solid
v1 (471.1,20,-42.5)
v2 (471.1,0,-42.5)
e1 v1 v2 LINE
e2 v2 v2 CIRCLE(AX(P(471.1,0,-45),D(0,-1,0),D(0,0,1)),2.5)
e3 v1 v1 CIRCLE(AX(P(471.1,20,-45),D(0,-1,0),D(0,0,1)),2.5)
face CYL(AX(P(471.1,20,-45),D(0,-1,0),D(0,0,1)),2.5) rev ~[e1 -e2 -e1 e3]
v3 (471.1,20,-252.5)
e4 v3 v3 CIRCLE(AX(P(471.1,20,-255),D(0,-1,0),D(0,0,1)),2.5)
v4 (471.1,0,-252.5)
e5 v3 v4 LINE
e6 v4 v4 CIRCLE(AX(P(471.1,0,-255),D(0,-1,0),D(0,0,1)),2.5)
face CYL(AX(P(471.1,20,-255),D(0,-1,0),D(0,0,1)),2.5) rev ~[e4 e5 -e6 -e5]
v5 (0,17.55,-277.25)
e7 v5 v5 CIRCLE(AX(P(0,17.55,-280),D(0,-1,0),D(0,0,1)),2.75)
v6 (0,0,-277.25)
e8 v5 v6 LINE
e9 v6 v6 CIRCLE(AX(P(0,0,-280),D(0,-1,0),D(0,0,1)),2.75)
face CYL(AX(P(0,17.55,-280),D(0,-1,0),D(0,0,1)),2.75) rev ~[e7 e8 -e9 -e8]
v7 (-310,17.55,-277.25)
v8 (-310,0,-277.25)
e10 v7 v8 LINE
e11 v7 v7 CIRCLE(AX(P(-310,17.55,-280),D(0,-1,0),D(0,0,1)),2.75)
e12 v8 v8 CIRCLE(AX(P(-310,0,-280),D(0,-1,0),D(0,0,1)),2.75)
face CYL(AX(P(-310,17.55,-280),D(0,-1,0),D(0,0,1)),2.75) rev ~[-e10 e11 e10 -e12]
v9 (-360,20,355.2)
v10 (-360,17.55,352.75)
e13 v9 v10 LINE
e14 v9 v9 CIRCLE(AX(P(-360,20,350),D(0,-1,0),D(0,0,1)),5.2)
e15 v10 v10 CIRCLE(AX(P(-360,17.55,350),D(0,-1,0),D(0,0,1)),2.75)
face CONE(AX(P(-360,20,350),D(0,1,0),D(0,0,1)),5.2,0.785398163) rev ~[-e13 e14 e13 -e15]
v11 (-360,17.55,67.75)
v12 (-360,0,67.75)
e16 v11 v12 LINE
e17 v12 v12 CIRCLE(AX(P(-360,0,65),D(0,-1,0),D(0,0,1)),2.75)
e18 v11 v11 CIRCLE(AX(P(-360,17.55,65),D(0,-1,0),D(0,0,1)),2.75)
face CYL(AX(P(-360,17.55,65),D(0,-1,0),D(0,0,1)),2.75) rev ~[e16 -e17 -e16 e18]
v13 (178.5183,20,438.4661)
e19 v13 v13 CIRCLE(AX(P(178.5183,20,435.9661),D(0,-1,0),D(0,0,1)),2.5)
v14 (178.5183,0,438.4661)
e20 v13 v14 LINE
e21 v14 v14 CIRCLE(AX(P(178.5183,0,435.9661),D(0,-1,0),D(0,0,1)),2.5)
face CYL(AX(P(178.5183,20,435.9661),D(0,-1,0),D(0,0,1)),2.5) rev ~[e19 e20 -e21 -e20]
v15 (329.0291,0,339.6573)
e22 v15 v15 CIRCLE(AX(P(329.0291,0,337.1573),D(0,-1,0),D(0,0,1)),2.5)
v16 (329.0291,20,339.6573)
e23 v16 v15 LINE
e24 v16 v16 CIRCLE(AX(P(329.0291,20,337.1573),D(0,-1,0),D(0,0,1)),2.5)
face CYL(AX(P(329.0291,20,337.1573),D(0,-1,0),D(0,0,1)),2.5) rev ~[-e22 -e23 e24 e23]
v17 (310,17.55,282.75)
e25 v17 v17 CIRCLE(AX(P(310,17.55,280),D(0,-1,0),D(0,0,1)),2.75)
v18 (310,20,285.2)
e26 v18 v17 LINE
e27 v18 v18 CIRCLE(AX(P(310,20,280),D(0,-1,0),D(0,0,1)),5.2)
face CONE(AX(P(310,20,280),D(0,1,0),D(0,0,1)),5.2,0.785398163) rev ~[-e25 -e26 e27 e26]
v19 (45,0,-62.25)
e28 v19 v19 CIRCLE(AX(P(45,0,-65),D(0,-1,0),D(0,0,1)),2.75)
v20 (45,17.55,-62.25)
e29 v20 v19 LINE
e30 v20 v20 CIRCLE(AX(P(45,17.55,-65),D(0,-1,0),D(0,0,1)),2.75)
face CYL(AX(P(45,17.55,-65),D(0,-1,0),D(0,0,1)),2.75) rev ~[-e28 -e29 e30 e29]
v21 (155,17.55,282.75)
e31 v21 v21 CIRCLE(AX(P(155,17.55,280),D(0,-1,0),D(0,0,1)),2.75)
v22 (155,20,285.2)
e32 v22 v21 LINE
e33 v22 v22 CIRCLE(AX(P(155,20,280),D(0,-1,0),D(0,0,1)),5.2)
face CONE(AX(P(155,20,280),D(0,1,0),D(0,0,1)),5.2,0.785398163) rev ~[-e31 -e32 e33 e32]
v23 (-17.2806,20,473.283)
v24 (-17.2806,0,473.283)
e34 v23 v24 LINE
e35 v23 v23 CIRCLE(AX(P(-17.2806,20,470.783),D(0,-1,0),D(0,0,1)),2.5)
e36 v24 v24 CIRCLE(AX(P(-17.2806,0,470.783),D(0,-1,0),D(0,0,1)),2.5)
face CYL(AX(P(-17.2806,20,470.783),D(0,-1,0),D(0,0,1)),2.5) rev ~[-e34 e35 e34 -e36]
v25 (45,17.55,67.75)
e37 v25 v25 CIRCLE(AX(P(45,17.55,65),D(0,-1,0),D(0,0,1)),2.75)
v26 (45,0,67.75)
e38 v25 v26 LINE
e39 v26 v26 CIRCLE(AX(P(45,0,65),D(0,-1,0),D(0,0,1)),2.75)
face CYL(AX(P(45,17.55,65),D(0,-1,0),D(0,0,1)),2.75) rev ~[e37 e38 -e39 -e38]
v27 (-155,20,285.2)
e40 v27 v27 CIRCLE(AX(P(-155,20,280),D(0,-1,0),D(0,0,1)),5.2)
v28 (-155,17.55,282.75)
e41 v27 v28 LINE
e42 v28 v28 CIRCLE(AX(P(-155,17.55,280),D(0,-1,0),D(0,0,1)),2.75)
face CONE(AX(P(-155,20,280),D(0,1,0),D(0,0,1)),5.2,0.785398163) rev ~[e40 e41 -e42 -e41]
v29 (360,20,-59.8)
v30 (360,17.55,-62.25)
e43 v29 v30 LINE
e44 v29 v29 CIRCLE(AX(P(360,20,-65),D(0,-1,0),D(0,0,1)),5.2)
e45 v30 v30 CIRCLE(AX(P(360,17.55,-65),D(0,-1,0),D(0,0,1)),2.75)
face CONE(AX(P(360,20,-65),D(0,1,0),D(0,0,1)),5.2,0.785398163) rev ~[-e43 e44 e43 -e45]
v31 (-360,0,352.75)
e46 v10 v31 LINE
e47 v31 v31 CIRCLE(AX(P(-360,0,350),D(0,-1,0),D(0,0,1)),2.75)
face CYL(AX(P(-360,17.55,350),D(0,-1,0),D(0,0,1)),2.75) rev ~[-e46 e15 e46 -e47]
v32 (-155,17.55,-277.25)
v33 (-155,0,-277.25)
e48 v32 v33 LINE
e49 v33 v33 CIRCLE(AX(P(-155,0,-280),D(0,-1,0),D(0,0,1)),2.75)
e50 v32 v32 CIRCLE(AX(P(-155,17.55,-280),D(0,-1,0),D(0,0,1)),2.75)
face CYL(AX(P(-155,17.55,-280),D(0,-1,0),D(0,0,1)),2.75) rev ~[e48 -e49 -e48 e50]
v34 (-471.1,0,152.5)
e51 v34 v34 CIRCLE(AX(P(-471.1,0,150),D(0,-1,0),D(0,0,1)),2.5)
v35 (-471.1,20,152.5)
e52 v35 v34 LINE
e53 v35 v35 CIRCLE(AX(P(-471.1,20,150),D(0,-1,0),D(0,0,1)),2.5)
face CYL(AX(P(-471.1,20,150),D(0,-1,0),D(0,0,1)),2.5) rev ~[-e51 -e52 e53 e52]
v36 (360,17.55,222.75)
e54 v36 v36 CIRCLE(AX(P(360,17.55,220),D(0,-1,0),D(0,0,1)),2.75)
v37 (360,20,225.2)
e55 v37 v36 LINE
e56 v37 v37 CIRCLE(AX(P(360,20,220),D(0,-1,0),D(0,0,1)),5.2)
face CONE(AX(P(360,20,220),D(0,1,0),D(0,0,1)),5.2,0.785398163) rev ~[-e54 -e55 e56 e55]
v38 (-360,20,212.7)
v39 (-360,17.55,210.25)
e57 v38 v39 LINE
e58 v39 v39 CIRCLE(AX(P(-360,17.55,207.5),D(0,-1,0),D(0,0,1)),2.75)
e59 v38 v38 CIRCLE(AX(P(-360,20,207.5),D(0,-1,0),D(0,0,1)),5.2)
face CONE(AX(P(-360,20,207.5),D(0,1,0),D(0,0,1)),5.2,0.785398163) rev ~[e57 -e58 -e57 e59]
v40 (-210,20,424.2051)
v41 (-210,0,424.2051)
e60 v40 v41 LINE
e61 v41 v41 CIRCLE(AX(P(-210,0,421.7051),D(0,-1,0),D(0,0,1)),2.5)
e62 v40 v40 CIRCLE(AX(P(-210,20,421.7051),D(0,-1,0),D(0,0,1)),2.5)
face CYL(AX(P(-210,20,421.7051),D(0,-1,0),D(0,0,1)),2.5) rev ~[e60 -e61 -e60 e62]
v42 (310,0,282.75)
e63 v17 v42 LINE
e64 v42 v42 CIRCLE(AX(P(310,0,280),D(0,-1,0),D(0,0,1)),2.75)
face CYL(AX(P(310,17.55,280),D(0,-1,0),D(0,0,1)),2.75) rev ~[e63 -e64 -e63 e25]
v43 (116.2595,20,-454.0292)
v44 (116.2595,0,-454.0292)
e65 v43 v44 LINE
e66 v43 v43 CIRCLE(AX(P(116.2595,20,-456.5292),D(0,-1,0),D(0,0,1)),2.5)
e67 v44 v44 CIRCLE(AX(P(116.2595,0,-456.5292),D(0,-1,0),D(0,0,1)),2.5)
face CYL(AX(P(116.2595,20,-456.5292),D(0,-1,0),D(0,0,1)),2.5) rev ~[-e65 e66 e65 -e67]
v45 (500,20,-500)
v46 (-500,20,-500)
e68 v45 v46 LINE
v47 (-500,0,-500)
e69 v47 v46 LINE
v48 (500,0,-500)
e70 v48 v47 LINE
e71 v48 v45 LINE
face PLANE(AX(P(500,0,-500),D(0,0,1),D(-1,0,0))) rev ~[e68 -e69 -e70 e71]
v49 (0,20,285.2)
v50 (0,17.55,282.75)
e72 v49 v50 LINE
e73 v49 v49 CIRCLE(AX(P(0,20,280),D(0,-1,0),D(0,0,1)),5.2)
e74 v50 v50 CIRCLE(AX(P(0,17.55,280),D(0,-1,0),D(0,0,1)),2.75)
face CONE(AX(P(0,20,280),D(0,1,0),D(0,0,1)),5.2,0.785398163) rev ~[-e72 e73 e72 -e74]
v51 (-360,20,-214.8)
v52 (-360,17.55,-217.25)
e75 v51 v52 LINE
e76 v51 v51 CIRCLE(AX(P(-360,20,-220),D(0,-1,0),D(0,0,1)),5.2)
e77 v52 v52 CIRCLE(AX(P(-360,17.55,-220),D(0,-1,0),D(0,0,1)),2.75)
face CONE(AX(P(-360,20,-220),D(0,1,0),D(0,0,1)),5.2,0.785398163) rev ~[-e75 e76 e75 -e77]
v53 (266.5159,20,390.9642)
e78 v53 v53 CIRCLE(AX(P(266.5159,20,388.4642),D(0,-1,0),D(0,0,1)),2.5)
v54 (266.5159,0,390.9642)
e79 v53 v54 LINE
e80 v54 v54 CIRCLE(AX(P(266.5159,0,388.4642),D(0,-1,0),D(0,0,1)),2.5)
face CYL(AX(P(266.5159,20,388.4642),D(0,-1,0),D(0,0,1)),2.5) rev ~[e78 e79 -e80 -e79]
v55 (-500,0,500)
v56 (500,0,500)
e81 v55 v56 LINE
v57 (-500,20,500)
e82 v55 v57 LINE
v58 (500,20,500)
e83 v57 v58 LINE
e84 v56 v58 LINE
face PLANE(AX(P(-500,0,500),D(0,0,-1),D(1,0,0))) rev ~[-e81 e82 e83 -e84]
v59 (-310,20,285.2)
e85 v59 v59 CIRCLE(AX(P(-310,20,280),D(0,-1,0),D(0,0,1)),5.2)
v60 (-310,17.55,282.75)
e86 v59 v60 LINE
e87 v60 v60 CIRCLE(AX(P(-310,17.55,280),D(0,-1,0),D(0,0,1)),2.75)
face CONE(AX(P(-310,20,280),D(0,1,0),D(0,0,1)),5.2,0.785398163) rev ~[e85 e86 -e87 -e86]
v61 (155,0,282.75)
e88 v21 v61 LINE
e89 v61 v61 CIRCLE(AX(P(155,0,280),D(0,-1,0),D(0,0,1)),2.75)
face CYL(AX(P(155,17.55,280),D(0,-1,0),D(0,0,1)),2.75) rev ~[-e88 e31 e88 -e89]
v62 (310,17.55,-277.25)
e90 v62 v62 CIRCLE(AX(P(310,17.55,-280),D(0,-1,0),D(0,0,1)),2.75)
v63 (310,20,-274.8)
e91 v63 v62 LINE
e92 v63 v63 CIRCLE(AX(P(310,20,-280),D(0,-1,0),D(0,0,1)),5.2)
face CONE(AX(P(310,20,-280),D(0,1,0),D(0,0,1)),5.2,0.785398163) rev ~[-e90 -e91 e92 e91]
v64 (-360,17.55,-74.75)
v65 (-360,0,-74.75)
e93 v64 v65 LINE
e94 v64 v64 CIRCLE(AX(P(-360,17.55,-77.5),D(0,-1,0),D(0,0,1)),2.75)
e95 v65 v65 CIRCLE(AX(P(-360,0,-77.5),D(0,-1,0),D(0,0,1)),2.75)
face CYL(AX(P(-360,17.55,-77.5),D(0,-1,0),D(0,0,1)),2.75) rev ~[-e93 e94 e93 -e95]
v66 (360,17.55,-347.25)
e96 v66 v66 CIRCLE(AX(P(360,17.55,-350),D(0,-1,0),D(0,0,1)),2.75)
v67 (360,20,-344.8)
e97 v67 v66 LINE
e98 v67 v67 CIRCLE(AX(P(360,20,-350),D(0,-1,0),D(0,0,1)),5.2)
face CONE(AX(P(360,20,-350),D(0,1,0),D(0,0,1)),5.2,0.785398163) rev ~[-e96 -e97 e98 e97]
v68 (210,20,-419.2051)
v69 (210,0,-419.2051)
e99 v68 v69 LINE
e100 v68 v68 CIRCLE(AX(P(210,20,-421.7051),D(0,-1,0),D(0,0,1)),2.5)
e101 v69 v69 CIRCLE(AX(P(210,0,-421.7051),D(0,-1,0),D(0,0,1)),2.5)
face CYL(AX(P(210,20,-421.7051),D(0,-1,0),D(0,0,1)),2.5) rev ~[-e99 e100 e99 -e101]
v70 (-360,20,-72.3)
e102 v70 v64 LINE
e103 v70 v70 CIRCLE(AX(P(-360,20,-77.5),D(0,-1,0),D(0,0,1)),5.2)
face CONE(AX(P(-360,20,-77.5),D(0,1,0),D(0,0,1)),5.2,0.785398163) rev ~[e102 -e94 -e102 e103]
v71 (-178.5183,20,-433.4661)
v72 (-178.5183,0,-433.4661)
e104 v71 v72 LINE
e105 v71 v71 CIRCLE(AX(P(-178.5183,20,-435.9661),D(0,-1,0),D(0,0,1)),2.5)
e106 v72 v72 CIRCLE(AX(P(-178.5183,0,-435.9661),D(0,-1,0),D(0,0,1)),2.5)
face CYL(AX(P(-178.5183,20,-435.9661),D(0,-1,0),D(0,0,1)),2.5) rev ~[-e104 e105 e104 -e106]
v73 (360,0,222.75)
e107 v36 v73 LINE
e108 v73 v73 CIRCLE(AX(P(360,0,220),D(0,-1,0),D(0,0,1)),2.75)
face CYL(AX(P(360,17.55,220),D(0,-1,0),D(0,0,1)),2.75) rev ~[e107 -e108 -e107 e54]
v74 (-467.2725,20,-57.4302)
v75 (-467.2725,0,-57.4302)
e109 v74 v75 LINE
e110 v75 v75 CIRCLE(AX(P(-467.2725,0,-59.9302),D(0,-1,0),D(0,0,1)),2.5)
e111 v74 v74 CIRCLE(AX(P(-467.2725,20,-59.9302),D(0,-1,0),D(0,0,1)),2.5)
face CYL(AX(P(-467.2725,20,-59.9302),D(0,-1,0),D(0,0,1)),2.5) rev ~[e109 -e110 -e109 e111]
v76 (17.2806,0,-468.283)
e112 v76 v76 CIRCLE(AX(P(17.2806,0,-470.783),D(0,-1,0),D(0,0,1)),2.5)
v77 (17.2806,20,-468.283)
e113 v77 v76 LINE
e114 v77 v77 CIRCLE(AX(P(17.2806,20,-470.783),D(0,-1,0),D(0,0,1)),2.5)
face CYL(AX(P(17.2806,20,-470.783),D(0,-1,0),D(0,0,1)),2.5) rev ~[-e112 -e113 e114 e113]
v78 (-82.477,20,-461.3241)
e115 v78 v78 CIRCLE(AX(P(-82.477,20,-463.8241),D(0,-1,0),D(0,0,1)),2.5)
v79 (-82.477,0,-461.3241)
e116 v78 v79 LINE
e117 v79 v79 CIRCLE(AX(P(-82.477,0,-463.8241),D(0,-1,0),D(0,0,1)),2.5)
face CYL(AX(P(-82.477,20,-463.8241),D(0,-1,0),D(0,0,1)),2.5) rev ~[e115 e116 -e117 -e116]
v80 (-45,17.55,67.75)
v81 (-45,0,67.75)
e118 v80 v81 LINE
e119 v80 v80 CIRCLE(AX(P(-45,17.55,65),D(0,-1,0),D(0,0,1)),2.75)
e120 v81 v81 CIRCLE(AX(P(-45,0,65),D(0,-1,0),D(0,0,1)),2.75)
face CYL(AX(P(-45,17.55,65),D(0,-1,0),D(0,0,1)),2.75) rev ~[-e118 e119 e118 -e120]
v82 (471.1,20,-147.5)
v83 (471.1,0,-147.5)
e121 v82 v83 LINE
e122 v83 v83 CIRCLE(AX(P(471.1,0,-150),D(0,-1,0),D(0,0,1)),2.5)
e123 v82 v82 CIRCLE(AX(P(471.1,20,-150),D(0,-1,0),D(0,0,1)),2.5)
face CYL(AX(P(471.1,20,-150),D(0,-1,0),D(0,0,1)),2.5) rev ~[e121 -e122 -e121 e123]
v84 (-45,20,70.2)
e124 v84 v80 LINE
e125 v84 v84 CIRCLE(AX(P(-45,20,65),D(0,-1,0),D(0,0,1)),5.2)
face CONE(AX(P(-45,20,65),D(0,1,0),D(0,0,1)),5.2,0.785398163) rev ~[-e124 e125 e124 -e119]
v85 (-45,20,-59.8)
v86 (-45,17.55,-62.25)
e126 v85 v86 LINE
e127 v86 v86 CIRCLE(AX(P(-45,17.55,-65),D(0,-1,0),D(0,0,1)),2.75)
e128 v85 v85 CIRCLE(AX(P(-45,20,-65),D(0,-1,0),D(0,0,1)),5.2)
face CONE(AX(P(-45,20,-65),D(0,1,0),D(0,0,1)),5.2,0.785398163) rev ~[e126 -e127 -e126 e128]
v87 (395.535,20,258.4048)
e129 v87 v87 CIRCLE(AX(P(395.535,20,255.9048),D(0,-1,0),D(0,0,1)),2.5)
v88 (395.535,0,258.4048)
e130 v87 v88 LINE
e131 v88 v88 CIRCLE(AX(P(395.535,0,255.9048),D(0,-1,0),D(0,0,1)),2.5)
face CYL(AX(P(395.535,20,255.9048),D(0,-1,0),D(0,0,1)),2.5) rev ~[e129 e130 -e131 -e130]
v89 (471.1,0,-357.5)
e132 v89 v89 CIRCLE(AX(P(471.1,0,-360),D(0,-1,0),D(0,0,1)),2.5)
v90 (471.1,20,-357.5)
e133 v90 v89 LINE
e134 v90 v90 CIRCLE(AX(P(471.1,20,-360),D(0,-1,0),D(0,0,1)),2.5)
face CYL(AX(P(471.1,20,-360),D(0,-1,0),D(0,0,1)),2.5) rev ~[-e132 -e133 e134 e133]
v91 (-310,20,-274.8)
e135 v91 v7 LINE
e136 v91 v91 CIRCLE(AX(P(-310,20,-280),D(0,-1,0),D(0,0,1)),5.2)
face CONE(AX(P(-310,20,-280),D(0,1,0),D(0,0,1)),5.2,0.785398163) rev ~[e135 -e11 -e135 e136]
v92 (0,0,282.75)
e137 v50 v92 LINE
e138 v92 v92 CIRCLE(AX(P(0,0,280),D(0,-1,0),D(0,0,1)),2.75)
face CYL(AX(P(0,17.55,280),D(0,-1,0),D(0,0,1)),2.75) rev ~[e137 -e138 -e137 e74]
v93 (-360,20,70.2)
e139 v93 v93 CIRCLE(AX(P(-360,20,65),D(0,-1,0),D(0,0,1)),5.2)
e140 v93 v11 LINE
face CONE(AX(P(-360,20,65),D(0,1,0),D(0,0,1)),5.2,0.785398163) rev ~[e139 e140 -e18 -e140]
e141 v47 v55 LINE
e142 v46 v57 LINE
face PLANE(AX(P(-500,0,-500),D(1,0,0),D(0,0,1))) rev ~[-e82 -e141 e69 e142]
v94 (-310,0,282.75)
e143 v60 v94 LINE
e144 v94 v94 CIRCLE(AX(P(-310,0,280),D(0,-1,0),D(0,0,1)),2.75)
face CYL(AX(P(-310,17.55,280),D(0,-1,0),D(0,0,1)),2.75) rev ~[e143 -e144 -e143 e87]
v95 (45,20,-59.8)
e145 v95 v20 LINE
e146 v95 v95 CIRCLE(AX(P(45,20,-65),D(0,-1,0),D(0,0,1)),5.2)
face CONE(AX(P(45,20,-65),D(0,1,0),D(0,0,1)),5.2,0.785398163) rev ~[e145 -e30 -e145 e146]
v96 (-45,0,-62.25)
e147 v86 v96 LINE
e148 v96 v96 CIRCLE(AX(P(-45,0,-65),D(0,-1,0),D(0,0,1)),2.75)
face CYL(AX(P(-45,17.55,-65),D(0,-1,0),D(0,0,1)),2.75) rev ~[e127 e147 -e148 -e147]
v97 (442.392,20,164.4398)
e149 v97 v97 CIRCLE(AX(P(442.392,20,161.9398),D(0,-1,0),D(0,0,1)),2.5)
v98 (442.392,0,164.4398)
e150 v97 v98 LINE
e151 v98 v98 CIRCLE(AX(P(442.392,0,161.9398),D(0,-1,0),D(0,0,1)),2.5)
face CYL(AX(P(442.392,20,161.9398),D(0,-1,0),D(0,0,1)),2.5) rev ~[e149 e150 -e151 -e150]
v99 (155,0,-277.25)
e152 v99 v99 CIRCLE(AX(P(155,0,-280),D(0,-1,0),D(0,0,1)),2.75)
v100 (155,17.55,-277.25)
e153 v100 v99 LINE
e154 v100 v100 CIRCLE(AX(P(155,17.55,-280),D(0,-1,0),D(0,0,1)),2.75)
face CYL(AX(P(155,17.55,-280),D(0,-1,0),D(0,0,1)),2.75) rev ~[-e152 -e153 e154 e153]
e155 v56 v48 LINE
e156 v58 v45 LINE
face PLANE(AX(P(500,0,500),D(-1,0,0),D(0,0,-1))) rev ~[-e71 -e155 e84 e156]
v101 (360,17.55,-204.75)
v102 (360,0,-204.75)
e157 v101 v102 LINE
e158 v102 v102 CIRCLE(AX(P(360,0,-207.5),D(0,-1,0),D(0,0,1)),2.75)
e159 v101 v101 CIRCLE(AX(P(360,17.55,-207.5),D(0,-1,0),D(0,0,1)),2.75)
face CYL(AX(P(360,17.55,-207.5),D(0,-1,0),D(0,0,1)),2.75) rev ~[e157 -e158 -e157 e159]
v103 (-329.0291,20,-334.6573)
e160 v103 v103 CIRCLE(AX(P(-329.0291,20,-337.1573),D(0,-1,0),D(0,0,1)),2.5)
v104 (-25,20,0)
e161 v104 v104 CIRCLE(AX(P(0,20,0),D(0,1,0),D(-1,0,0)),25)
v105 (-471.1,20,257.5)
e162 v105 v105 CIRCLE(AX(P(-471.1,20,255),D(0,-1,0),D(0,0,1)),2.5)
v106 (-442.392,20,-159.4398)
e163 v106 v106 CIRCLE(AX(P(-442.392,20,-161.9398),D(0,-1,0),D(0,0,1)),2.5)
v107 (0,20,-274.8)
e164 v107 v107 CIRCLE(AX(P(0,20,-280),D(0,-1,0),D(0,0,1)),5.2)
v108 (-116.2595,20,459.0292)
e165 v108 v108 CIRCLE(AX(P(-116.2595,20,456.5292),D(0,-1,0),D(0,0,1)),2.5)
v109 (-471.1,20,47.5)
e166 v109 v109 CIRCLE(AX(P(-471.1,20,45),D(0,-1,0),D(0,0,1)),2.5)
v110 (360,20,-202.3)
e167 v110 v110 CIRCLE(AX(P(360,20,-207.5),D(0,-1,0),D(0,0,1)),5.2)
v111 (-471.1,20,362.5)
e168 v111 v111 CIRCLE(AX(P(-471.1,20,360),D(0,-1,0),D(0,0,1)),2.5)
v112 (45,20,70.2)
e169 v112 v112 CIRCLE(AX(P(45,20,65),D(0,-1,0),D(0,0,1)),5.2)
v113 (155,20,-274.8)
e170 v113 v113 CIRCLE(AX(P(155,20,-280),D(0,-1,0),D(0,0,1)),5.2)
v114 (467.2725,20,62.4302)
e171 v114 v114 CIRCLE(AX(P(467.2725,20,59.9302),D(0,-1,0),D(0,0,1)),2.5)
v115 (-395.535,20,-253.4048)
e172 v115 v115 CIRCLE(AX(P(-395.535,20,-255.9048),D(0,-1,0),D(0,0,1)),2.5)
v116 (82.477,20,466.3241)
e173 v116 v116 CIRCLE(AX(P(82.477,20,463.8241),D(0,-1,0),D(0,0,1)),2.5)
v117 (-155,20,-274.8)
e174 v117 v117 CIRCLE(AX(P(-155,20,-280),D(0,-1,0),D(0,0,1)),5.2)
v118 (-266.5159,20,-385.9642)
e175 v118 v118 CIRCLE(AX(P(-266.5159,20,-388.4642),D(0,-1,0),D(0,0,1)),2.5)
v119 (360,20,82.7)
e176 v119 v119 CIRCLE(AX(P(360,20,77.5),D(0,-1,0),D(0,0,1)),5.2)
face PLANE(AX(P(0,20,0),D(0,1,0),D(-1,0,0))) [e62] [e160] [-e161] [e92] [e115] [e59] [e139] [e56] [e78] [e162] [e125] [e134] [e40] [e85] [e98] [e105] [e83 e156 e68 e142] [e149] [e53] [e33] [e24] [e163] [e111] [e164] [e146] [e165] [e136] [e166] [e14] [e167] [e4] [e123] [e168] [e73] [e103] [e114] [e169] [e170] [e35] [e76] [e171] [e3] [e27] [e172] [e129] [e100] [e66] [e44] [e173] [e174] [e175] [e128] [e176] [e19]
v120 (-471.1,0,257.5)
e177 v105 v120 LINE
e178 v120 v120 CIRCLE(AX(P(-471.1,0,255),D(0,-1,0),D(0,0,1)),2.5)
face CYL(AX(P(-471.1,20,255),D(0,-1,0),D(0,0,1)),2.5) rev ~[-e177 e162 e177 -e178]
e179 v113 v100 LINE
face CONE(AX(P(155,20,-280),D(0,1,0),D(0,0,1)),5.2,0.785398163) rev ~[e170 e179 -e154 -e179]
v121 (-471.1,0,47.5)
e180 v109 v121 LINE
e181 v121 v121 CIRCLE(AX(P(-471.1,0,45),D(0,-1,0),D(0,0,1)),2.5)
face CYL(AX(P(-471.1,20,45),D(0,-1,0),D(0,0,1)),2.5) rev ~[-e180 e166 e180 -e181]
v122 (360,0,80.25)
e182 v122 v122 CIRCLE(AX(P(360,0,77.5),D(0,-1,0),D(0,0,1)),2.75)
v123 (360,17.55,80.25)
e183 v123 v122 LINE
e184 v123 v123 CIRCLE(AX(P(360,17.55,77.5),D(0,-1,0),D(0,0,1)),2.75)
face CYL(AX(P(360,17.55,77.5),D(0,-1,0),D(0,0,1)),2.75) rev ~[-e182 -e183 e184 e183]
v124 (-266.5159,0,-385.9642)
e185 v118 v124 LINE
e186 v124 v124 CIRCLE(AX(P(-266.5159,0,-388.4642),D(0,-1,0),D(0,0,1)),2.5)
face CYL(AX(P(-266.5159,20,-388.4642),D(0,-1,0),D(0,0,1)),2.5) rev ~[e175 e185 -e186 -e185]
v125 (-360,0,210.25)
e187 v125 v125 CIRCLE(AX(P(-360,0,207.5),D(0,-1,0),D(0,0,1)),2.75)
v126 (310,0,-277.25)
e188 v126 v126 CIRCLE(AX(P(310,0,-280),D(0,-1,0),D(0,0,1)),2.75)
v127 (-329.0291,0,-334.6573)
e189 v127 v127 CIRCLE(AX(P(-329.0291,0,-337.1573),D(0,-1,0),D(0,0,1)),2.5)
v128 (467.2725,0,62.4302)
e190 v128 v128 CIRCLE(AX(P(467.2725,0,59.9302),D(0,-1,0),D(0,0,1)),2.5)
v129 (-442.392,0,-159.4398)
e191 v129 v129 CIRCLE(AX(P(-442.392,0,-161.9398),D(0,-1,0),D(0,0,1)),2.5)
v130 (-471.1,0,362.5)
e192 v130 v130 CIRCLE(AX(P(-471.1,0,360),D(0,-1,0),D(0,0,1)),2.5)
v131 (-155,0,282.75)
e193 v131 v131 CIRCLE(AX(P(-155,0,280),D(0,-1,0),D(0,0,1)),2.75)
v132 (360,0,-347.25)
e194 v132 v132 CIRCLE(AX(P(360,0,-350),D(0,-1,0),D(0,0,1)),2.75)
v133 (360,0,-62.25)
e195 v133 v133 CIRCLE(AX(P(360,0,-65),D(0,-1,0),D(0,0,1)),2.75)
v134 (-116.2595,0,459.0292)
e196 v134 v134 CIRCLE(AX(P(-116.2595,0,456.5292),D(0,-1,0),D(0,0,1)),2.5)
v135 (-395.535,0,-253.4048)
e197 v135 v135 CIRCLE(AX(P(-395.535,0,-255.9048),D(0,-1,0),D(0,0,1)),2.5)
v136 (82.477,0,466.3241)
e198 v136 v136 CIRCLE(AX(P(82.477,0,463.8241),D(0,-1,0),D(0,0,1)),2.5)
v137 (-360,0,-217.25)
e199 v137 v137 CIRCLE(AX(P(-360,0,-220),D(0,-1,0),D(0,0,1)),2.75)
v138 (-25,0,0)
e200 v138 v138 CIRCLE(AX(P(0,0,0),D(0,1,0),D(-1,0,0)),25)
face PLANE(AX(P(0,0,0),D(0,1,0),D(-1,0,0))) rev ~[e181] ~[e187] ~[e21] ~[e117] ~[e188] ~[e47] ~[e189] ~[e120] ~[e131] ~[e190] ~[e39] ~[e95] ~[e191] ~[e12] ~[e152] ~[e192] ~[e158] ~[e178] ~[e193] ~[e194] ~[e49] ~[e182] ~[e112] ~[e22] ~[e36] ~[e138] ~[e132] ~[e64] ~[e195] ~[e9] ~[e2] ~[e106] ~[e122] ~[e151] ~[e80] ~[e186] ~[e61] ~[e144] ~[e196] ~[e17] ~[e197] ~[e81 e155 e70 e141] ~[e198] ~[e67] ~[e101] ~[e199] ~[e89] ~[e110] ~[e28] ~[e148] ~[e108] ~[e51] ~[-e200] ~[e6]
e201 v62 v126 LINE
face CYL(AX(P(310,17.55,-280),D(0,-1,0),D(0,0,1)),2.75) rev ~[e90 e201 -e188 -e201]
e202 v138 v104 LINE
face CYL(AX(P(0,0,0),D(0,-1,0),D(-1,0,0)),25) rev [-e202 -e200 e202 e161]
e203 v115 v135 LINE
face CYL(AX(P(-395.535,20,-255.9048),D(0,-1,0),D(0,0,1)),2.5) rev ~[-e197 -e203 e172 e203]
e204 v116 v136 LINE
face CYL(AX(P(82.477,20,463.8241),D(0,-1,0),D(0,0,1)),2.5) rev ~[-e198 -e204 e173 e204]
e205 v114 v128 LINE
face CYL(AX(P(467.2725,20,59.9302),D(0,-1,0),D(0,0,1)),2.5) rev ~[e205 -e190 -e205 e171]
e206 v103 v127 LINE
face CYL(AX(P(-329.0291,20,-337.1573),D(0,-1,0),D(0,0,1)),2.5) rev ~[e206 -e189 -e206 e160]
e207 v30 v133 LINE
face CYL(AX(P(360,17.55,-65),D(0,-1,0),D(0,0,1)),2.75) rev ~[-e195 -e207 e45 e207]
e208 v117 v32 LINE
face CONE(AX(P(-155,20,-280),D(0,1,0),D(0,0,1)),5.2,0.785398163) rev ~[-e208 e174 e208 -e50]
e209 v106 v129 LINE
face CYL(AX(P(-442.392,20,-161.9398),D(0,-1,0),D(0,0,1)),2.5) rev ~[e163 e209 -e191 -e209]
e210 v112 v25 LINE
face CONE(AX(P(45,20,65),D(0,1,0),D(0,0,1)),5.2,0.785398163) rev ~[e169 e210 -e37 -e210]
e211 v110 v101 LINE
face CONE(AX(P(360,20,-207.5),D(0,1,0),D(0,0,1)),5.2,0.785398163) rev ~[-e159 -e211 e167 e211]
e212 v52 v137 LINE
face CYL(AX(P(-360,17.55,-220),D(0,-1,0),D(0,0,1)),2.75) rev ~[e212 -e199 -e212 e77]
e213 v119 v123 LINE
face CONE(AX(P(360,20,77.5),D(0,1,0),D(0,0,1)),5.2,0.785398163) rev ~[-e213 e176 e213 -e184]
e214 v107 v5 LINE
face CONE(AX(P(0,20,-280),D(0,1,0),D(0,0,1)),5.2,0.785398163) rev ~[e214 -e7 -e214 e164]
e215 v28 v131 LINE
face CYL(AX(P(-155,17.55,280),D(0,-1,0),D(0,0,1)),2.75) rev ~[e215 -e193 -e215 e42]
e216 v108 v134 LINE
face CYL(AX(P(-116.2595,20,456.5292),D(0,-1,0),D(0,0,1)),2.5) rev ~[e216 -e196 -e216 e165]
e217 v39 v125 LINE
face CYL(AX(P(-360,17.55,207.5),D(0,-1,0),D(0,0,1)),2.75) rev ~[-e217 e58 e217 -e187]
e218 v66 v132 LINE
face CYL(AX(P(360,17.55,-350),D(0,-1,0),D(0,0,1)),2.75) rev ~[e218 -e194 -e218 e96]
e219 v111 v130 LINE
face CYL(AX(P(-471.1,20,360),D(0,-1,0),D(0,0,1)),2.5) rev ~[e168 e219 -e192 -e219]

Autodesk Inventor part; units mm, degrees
ref_plane "YZ Plane" through (0, 0, 0) normal (1, 0, 0) x (0, 1, 0)
ref_plane "XZ Plane" through (0, 0, 0) normal (0, 1, 0) x (-1, 0, 0)
ref_plane "XY Plane" through (0, 0, 0) normal (0, 0, 1) x (1, 0, 0)
sketch "Sketch1" plane through (0, 0, 0) normal (0, 1, 0) x (-1, 0, 0)
  line L0 (0, -102.1042) -> (0, 102.1042) construction
  line L1 (37.5532, 0) -> (-37.5532, 0) construction
  line L2 (500, 500) -> (-500, 500)
  line L3 (-500, 500) -> (-500, -500)
  line L4 (-500, -500) -> (500, -500)
  line L5 (500, -500) -> (500, 500)
  circle A0 centre (0, 0) radius 25
  dimension "d0" = 1000
  dimension "d1" = 1000
  dimension "d2" = 50
extrude "Extrusion1" add sketch "Sketch1" along normal blind 20
sketch "Sketch3" plane through (0, 20, 0) normal (0, 1, 0) x (1, 0, 0)
  line L0 (0, 0) -> (-210, -421.7051) construction
  circle A0 centre (0, 0) radius 25 construction
  line L1 (-116.2595, -456.5292) -> (0, 0) construction
  line L2 (0, 0) -> (-17.2806, -470.783) construction
  line L3 (0, 0) -> (82.477, -463.8241) construction
  line L4 (0, 0) -> (266.5159, -388.4642) construction
  line L5 (329.0291, -337.1573) -> (0, 0) construction
  line L6 (-210, -421.7051) -> (-116.2595, -456.5292) construction
  line L7 (-17.2806, -470.783) -> (-116.2595, -456.5292) construction
  line L8 (-17.2806, -470.783) -> (82.477, -463.8241) construction
  line L9 (82.477, -463.8241) -> (178.5183, -435.9661) construction
  line L10 (178.5183, -435.9661) -> (266.5159, -388.4642) construction
  line L11 (329.0291, -337.1573) -> (395.535, -255.9048) construction
  line L12 (-500, -500) -> (500, -500) construction
  line L13 (0, 0) -> (395.535, -255.9048) construction
  line L14 (395.535, -255.9048) -> (442.392, -161.9398) construction
  line L15 (442.392, -161.9398) -> (0, 0) construction
  line L16 (467.2725, -59.9302) -> (442.392, -161.9398) construction
  line L17 (467.2725, -59.9302) -> (0, 0) construction
  line L18 (471.1, 255) -> (471.1, 150) construction
  line L19 (471.1, 150) -> (471.1, 45) construction
  line L20 (471.1, 360) -> (471.1, 255) construction
  line L21 (500, -500) -> (500, 500) construction
  line L22 (471.1, 45) -> (467.2725, -59.9302) construction
  line L23 (0, 0) -> (178.5183, -435.9661) construction
  line L24 (-178.5183, 435.9661) -> (0, 0) construction
  line L25 (-82.477, 463.8241) -> (0, 0) construction
  line L26 (-82.477, 463.8241) -> (0, 0) construction
  line L27 (17.2806, 470.783) -> (0, 0) construction
  line L28 (116.2595, 456.5292) -> (0, 0) construction
  line L29 (210, 421.7051) -> (0, 0) construction
  line L30 (17.2806, 470.783) -> (-82.477, 463.8241) construction
  line L31 (-82.477, 463.8241) -> (-82.477, 463.8241) construction
  line L32 (-82.477, 463.8241) -> (-178.5183, 435.9661) construction
  line L33 (17.2806, 470.783) -> (116.2595, 456.5292) construction
  line L34 (116.2595, 456.5292) -> (210, 421.7051) construction
  line L35 (-266.5159, 388.4642) -> (-178.5183, 435.9661) construction
  line L36 (-266.5159, 388.4642) -> (0, 0) construction
  line L37 (-395.535, 255.9048) -> (-329.0291, 337.1573) construction
  line L38 (-395.535, 255.9048) -> (-442.392, 161.9398) construction
  line L39 (-471.1, -45) -> (-471.1, -150) construction
  line L40 (-471.1, -150) -> (-471.1, -255) construction
  line L41 (-471.1, -255) -> (-471.1, -360) construction
  line L42 (-329.0291, 337.1573) -> (0, 0) construction
  line L43 (-395.535, 255.9048) -> (0, 0) construction
  line L44 (-442.392, 161.9398) -> (0, 0) construction
  line L45 (-442.392, 161.9398) -> (-467.2725, 59.9302) construction
  line L46 (-467.2725, 59.9302) -> (-471.1, -45) construction
  line L47 (-467.2725, 59.9302) -> (0, 0) construction
  line L48 (-500, 500) -> (-500, -500) construction
  dimension "d20" = 471.1
  dimension "d22" = 210
  dimension "d23" = 100
  dimension "d26" = 105
  dimension "d27" = 28.9
  dimension "d28" = 360
  dimension "d36" = 100
  dimension "d37" = 210
  dimension "d38" = 105
  dimension "d40" = 360
  dimension "d41" = 28.9
hole "Hole2" at (-210, 20, 421.7051) at (-116.2595, 20, 456.5292) at (-17.2806, 20, 470.783) at (82.477, 20, 463.8241) at (178.5183, 20, 435.9661) at (266.5159, 20, 388.4642) at (329.0291, 20, 337.1573) at (395.535, 20, 255.9048) at (442.392, 20, 161.9398) at (467.2725, 20, 59.9302) at (471.1, 20, -45) at (471.1, 20, -150) at (471.1, 20, -255) at (471.1, 20, -360) at (-471.1, 20, 360) at (-471.1, 20, 255) at (-471.1, 20, 150) at (-471.1, 20, 45) at (-467.2725, 20, -59.9302) at (-442.392, 20, -161.9398) at (-395.535, 20, -255.9048) at (-329.0291, 20, -337.1573) at (-266.5159, 20, -388.4642) at (-178.5183, 20, -435.9661) at (-82.477, 20, -463.8241) at (17.2806, 20, -470.783) at (116.2595, 20, -456.5292) at (210, 20, -421.7051) direction (0, -1, 0) diameter 5 end through all
sketch "Sketch4" plane through (0, 20, 0) normal (0, 1, 0) x (1, 0, 0)
  line L0 (500, -500) -> (500, 500) projected
  line L1 (-500, 500) -> (-500, -500) projected
  line L2 (-500, -500) -> (500, -500) projected
  line L3 (500, 500) -> (-500, 500) projected
  line L4 (-360, 220) -> (-360, 77.5) construction
  line L5 (-360, 77.5) -> (-360, -65) construction
  line L6 (-360, -65) -> (-360, -207.5) construction
  line L7 (-360, -207.5) -> (-360, -350) construction
  line L8 (360, 350) -> (360, 207.5) construction
  line L9 (360, 207.5) -> (360, 65) construction
  line L10 (360, 65) -> (360, -77.5) construction
  line L11 (360, -77.5) -> (360, -220) construction
  line L12 (310, -280) -> (155, -280) construction
  line L13 (155, -280) -> (0, -280) construction
  line L14 (0, -280) -> (-155, -280) construction
  line L15 (-155, -280) -> (-310, -280) construction
  line L16 (-310, 280) -> (-155, 280) construction
  line L17 (-155, 280) -> (0, 280) construction
  line L18 (0, 280) -> (155, 280) construction
  line L19 (155, 280) -> (310, 280) construction
  line L20 (0, 7.0345) -> (0, -7.0345) construction
  line L21 (-9.8826, 0) -> (9.8826, 0) construction
  point P0 (0, 0)
  point P1 (-45, 65)
  point P2 (-45, -65)
  point P3 (45, -65)
  point P4 (45, 65)
  point P5 (0, 0)
  dimension "d42" = 140
  dimension "d43" = 140
  dimension "d44" = 150
  dimension "d45" = 150
  dimension "d46" = 570
  dimension "d47" = 570
  dimension "d55" = 220
  dimension "d56" = 220
  dimension "d57" = 50
  dimension "d58" = 50
  dimension "d59" = 90
  dimension "d60" = 130
hole "Hole3" at (360, 20, -350) at (360, 20, -207.5) at (360, 20, 77.5) at (360, 20, 220) at (360, 20, -65) at (-360, 20, 350) at (-360, 20, 207.5) at (-360, 20, 65) at (-360, 20, -220) at (-360, 20, -77.5) at (-310, 20, -280) at (-155, 20, -280) at (0, 20, -280) at (155, 20, -280) at (310, 20, -280) at (310, 20, 280) at (155, 20, 280) at (0, 20, 280) at (-155, 20, 280) at (-310, 20, 280) at (-45, 20, -65) at (45, 20, -65) at (-45, 20, 65) at (45, 20, 65) direction (0, -1, 0) diameter 5.5 end through all countersink diameter 10.4 countersink angle 90 clearance for "Countersunk Flat Head Screw DIN EN ISO 2009" size "M5" standard "DIN"
properties part number "groundPlateWoodV1" material "PMMA Plastic"
